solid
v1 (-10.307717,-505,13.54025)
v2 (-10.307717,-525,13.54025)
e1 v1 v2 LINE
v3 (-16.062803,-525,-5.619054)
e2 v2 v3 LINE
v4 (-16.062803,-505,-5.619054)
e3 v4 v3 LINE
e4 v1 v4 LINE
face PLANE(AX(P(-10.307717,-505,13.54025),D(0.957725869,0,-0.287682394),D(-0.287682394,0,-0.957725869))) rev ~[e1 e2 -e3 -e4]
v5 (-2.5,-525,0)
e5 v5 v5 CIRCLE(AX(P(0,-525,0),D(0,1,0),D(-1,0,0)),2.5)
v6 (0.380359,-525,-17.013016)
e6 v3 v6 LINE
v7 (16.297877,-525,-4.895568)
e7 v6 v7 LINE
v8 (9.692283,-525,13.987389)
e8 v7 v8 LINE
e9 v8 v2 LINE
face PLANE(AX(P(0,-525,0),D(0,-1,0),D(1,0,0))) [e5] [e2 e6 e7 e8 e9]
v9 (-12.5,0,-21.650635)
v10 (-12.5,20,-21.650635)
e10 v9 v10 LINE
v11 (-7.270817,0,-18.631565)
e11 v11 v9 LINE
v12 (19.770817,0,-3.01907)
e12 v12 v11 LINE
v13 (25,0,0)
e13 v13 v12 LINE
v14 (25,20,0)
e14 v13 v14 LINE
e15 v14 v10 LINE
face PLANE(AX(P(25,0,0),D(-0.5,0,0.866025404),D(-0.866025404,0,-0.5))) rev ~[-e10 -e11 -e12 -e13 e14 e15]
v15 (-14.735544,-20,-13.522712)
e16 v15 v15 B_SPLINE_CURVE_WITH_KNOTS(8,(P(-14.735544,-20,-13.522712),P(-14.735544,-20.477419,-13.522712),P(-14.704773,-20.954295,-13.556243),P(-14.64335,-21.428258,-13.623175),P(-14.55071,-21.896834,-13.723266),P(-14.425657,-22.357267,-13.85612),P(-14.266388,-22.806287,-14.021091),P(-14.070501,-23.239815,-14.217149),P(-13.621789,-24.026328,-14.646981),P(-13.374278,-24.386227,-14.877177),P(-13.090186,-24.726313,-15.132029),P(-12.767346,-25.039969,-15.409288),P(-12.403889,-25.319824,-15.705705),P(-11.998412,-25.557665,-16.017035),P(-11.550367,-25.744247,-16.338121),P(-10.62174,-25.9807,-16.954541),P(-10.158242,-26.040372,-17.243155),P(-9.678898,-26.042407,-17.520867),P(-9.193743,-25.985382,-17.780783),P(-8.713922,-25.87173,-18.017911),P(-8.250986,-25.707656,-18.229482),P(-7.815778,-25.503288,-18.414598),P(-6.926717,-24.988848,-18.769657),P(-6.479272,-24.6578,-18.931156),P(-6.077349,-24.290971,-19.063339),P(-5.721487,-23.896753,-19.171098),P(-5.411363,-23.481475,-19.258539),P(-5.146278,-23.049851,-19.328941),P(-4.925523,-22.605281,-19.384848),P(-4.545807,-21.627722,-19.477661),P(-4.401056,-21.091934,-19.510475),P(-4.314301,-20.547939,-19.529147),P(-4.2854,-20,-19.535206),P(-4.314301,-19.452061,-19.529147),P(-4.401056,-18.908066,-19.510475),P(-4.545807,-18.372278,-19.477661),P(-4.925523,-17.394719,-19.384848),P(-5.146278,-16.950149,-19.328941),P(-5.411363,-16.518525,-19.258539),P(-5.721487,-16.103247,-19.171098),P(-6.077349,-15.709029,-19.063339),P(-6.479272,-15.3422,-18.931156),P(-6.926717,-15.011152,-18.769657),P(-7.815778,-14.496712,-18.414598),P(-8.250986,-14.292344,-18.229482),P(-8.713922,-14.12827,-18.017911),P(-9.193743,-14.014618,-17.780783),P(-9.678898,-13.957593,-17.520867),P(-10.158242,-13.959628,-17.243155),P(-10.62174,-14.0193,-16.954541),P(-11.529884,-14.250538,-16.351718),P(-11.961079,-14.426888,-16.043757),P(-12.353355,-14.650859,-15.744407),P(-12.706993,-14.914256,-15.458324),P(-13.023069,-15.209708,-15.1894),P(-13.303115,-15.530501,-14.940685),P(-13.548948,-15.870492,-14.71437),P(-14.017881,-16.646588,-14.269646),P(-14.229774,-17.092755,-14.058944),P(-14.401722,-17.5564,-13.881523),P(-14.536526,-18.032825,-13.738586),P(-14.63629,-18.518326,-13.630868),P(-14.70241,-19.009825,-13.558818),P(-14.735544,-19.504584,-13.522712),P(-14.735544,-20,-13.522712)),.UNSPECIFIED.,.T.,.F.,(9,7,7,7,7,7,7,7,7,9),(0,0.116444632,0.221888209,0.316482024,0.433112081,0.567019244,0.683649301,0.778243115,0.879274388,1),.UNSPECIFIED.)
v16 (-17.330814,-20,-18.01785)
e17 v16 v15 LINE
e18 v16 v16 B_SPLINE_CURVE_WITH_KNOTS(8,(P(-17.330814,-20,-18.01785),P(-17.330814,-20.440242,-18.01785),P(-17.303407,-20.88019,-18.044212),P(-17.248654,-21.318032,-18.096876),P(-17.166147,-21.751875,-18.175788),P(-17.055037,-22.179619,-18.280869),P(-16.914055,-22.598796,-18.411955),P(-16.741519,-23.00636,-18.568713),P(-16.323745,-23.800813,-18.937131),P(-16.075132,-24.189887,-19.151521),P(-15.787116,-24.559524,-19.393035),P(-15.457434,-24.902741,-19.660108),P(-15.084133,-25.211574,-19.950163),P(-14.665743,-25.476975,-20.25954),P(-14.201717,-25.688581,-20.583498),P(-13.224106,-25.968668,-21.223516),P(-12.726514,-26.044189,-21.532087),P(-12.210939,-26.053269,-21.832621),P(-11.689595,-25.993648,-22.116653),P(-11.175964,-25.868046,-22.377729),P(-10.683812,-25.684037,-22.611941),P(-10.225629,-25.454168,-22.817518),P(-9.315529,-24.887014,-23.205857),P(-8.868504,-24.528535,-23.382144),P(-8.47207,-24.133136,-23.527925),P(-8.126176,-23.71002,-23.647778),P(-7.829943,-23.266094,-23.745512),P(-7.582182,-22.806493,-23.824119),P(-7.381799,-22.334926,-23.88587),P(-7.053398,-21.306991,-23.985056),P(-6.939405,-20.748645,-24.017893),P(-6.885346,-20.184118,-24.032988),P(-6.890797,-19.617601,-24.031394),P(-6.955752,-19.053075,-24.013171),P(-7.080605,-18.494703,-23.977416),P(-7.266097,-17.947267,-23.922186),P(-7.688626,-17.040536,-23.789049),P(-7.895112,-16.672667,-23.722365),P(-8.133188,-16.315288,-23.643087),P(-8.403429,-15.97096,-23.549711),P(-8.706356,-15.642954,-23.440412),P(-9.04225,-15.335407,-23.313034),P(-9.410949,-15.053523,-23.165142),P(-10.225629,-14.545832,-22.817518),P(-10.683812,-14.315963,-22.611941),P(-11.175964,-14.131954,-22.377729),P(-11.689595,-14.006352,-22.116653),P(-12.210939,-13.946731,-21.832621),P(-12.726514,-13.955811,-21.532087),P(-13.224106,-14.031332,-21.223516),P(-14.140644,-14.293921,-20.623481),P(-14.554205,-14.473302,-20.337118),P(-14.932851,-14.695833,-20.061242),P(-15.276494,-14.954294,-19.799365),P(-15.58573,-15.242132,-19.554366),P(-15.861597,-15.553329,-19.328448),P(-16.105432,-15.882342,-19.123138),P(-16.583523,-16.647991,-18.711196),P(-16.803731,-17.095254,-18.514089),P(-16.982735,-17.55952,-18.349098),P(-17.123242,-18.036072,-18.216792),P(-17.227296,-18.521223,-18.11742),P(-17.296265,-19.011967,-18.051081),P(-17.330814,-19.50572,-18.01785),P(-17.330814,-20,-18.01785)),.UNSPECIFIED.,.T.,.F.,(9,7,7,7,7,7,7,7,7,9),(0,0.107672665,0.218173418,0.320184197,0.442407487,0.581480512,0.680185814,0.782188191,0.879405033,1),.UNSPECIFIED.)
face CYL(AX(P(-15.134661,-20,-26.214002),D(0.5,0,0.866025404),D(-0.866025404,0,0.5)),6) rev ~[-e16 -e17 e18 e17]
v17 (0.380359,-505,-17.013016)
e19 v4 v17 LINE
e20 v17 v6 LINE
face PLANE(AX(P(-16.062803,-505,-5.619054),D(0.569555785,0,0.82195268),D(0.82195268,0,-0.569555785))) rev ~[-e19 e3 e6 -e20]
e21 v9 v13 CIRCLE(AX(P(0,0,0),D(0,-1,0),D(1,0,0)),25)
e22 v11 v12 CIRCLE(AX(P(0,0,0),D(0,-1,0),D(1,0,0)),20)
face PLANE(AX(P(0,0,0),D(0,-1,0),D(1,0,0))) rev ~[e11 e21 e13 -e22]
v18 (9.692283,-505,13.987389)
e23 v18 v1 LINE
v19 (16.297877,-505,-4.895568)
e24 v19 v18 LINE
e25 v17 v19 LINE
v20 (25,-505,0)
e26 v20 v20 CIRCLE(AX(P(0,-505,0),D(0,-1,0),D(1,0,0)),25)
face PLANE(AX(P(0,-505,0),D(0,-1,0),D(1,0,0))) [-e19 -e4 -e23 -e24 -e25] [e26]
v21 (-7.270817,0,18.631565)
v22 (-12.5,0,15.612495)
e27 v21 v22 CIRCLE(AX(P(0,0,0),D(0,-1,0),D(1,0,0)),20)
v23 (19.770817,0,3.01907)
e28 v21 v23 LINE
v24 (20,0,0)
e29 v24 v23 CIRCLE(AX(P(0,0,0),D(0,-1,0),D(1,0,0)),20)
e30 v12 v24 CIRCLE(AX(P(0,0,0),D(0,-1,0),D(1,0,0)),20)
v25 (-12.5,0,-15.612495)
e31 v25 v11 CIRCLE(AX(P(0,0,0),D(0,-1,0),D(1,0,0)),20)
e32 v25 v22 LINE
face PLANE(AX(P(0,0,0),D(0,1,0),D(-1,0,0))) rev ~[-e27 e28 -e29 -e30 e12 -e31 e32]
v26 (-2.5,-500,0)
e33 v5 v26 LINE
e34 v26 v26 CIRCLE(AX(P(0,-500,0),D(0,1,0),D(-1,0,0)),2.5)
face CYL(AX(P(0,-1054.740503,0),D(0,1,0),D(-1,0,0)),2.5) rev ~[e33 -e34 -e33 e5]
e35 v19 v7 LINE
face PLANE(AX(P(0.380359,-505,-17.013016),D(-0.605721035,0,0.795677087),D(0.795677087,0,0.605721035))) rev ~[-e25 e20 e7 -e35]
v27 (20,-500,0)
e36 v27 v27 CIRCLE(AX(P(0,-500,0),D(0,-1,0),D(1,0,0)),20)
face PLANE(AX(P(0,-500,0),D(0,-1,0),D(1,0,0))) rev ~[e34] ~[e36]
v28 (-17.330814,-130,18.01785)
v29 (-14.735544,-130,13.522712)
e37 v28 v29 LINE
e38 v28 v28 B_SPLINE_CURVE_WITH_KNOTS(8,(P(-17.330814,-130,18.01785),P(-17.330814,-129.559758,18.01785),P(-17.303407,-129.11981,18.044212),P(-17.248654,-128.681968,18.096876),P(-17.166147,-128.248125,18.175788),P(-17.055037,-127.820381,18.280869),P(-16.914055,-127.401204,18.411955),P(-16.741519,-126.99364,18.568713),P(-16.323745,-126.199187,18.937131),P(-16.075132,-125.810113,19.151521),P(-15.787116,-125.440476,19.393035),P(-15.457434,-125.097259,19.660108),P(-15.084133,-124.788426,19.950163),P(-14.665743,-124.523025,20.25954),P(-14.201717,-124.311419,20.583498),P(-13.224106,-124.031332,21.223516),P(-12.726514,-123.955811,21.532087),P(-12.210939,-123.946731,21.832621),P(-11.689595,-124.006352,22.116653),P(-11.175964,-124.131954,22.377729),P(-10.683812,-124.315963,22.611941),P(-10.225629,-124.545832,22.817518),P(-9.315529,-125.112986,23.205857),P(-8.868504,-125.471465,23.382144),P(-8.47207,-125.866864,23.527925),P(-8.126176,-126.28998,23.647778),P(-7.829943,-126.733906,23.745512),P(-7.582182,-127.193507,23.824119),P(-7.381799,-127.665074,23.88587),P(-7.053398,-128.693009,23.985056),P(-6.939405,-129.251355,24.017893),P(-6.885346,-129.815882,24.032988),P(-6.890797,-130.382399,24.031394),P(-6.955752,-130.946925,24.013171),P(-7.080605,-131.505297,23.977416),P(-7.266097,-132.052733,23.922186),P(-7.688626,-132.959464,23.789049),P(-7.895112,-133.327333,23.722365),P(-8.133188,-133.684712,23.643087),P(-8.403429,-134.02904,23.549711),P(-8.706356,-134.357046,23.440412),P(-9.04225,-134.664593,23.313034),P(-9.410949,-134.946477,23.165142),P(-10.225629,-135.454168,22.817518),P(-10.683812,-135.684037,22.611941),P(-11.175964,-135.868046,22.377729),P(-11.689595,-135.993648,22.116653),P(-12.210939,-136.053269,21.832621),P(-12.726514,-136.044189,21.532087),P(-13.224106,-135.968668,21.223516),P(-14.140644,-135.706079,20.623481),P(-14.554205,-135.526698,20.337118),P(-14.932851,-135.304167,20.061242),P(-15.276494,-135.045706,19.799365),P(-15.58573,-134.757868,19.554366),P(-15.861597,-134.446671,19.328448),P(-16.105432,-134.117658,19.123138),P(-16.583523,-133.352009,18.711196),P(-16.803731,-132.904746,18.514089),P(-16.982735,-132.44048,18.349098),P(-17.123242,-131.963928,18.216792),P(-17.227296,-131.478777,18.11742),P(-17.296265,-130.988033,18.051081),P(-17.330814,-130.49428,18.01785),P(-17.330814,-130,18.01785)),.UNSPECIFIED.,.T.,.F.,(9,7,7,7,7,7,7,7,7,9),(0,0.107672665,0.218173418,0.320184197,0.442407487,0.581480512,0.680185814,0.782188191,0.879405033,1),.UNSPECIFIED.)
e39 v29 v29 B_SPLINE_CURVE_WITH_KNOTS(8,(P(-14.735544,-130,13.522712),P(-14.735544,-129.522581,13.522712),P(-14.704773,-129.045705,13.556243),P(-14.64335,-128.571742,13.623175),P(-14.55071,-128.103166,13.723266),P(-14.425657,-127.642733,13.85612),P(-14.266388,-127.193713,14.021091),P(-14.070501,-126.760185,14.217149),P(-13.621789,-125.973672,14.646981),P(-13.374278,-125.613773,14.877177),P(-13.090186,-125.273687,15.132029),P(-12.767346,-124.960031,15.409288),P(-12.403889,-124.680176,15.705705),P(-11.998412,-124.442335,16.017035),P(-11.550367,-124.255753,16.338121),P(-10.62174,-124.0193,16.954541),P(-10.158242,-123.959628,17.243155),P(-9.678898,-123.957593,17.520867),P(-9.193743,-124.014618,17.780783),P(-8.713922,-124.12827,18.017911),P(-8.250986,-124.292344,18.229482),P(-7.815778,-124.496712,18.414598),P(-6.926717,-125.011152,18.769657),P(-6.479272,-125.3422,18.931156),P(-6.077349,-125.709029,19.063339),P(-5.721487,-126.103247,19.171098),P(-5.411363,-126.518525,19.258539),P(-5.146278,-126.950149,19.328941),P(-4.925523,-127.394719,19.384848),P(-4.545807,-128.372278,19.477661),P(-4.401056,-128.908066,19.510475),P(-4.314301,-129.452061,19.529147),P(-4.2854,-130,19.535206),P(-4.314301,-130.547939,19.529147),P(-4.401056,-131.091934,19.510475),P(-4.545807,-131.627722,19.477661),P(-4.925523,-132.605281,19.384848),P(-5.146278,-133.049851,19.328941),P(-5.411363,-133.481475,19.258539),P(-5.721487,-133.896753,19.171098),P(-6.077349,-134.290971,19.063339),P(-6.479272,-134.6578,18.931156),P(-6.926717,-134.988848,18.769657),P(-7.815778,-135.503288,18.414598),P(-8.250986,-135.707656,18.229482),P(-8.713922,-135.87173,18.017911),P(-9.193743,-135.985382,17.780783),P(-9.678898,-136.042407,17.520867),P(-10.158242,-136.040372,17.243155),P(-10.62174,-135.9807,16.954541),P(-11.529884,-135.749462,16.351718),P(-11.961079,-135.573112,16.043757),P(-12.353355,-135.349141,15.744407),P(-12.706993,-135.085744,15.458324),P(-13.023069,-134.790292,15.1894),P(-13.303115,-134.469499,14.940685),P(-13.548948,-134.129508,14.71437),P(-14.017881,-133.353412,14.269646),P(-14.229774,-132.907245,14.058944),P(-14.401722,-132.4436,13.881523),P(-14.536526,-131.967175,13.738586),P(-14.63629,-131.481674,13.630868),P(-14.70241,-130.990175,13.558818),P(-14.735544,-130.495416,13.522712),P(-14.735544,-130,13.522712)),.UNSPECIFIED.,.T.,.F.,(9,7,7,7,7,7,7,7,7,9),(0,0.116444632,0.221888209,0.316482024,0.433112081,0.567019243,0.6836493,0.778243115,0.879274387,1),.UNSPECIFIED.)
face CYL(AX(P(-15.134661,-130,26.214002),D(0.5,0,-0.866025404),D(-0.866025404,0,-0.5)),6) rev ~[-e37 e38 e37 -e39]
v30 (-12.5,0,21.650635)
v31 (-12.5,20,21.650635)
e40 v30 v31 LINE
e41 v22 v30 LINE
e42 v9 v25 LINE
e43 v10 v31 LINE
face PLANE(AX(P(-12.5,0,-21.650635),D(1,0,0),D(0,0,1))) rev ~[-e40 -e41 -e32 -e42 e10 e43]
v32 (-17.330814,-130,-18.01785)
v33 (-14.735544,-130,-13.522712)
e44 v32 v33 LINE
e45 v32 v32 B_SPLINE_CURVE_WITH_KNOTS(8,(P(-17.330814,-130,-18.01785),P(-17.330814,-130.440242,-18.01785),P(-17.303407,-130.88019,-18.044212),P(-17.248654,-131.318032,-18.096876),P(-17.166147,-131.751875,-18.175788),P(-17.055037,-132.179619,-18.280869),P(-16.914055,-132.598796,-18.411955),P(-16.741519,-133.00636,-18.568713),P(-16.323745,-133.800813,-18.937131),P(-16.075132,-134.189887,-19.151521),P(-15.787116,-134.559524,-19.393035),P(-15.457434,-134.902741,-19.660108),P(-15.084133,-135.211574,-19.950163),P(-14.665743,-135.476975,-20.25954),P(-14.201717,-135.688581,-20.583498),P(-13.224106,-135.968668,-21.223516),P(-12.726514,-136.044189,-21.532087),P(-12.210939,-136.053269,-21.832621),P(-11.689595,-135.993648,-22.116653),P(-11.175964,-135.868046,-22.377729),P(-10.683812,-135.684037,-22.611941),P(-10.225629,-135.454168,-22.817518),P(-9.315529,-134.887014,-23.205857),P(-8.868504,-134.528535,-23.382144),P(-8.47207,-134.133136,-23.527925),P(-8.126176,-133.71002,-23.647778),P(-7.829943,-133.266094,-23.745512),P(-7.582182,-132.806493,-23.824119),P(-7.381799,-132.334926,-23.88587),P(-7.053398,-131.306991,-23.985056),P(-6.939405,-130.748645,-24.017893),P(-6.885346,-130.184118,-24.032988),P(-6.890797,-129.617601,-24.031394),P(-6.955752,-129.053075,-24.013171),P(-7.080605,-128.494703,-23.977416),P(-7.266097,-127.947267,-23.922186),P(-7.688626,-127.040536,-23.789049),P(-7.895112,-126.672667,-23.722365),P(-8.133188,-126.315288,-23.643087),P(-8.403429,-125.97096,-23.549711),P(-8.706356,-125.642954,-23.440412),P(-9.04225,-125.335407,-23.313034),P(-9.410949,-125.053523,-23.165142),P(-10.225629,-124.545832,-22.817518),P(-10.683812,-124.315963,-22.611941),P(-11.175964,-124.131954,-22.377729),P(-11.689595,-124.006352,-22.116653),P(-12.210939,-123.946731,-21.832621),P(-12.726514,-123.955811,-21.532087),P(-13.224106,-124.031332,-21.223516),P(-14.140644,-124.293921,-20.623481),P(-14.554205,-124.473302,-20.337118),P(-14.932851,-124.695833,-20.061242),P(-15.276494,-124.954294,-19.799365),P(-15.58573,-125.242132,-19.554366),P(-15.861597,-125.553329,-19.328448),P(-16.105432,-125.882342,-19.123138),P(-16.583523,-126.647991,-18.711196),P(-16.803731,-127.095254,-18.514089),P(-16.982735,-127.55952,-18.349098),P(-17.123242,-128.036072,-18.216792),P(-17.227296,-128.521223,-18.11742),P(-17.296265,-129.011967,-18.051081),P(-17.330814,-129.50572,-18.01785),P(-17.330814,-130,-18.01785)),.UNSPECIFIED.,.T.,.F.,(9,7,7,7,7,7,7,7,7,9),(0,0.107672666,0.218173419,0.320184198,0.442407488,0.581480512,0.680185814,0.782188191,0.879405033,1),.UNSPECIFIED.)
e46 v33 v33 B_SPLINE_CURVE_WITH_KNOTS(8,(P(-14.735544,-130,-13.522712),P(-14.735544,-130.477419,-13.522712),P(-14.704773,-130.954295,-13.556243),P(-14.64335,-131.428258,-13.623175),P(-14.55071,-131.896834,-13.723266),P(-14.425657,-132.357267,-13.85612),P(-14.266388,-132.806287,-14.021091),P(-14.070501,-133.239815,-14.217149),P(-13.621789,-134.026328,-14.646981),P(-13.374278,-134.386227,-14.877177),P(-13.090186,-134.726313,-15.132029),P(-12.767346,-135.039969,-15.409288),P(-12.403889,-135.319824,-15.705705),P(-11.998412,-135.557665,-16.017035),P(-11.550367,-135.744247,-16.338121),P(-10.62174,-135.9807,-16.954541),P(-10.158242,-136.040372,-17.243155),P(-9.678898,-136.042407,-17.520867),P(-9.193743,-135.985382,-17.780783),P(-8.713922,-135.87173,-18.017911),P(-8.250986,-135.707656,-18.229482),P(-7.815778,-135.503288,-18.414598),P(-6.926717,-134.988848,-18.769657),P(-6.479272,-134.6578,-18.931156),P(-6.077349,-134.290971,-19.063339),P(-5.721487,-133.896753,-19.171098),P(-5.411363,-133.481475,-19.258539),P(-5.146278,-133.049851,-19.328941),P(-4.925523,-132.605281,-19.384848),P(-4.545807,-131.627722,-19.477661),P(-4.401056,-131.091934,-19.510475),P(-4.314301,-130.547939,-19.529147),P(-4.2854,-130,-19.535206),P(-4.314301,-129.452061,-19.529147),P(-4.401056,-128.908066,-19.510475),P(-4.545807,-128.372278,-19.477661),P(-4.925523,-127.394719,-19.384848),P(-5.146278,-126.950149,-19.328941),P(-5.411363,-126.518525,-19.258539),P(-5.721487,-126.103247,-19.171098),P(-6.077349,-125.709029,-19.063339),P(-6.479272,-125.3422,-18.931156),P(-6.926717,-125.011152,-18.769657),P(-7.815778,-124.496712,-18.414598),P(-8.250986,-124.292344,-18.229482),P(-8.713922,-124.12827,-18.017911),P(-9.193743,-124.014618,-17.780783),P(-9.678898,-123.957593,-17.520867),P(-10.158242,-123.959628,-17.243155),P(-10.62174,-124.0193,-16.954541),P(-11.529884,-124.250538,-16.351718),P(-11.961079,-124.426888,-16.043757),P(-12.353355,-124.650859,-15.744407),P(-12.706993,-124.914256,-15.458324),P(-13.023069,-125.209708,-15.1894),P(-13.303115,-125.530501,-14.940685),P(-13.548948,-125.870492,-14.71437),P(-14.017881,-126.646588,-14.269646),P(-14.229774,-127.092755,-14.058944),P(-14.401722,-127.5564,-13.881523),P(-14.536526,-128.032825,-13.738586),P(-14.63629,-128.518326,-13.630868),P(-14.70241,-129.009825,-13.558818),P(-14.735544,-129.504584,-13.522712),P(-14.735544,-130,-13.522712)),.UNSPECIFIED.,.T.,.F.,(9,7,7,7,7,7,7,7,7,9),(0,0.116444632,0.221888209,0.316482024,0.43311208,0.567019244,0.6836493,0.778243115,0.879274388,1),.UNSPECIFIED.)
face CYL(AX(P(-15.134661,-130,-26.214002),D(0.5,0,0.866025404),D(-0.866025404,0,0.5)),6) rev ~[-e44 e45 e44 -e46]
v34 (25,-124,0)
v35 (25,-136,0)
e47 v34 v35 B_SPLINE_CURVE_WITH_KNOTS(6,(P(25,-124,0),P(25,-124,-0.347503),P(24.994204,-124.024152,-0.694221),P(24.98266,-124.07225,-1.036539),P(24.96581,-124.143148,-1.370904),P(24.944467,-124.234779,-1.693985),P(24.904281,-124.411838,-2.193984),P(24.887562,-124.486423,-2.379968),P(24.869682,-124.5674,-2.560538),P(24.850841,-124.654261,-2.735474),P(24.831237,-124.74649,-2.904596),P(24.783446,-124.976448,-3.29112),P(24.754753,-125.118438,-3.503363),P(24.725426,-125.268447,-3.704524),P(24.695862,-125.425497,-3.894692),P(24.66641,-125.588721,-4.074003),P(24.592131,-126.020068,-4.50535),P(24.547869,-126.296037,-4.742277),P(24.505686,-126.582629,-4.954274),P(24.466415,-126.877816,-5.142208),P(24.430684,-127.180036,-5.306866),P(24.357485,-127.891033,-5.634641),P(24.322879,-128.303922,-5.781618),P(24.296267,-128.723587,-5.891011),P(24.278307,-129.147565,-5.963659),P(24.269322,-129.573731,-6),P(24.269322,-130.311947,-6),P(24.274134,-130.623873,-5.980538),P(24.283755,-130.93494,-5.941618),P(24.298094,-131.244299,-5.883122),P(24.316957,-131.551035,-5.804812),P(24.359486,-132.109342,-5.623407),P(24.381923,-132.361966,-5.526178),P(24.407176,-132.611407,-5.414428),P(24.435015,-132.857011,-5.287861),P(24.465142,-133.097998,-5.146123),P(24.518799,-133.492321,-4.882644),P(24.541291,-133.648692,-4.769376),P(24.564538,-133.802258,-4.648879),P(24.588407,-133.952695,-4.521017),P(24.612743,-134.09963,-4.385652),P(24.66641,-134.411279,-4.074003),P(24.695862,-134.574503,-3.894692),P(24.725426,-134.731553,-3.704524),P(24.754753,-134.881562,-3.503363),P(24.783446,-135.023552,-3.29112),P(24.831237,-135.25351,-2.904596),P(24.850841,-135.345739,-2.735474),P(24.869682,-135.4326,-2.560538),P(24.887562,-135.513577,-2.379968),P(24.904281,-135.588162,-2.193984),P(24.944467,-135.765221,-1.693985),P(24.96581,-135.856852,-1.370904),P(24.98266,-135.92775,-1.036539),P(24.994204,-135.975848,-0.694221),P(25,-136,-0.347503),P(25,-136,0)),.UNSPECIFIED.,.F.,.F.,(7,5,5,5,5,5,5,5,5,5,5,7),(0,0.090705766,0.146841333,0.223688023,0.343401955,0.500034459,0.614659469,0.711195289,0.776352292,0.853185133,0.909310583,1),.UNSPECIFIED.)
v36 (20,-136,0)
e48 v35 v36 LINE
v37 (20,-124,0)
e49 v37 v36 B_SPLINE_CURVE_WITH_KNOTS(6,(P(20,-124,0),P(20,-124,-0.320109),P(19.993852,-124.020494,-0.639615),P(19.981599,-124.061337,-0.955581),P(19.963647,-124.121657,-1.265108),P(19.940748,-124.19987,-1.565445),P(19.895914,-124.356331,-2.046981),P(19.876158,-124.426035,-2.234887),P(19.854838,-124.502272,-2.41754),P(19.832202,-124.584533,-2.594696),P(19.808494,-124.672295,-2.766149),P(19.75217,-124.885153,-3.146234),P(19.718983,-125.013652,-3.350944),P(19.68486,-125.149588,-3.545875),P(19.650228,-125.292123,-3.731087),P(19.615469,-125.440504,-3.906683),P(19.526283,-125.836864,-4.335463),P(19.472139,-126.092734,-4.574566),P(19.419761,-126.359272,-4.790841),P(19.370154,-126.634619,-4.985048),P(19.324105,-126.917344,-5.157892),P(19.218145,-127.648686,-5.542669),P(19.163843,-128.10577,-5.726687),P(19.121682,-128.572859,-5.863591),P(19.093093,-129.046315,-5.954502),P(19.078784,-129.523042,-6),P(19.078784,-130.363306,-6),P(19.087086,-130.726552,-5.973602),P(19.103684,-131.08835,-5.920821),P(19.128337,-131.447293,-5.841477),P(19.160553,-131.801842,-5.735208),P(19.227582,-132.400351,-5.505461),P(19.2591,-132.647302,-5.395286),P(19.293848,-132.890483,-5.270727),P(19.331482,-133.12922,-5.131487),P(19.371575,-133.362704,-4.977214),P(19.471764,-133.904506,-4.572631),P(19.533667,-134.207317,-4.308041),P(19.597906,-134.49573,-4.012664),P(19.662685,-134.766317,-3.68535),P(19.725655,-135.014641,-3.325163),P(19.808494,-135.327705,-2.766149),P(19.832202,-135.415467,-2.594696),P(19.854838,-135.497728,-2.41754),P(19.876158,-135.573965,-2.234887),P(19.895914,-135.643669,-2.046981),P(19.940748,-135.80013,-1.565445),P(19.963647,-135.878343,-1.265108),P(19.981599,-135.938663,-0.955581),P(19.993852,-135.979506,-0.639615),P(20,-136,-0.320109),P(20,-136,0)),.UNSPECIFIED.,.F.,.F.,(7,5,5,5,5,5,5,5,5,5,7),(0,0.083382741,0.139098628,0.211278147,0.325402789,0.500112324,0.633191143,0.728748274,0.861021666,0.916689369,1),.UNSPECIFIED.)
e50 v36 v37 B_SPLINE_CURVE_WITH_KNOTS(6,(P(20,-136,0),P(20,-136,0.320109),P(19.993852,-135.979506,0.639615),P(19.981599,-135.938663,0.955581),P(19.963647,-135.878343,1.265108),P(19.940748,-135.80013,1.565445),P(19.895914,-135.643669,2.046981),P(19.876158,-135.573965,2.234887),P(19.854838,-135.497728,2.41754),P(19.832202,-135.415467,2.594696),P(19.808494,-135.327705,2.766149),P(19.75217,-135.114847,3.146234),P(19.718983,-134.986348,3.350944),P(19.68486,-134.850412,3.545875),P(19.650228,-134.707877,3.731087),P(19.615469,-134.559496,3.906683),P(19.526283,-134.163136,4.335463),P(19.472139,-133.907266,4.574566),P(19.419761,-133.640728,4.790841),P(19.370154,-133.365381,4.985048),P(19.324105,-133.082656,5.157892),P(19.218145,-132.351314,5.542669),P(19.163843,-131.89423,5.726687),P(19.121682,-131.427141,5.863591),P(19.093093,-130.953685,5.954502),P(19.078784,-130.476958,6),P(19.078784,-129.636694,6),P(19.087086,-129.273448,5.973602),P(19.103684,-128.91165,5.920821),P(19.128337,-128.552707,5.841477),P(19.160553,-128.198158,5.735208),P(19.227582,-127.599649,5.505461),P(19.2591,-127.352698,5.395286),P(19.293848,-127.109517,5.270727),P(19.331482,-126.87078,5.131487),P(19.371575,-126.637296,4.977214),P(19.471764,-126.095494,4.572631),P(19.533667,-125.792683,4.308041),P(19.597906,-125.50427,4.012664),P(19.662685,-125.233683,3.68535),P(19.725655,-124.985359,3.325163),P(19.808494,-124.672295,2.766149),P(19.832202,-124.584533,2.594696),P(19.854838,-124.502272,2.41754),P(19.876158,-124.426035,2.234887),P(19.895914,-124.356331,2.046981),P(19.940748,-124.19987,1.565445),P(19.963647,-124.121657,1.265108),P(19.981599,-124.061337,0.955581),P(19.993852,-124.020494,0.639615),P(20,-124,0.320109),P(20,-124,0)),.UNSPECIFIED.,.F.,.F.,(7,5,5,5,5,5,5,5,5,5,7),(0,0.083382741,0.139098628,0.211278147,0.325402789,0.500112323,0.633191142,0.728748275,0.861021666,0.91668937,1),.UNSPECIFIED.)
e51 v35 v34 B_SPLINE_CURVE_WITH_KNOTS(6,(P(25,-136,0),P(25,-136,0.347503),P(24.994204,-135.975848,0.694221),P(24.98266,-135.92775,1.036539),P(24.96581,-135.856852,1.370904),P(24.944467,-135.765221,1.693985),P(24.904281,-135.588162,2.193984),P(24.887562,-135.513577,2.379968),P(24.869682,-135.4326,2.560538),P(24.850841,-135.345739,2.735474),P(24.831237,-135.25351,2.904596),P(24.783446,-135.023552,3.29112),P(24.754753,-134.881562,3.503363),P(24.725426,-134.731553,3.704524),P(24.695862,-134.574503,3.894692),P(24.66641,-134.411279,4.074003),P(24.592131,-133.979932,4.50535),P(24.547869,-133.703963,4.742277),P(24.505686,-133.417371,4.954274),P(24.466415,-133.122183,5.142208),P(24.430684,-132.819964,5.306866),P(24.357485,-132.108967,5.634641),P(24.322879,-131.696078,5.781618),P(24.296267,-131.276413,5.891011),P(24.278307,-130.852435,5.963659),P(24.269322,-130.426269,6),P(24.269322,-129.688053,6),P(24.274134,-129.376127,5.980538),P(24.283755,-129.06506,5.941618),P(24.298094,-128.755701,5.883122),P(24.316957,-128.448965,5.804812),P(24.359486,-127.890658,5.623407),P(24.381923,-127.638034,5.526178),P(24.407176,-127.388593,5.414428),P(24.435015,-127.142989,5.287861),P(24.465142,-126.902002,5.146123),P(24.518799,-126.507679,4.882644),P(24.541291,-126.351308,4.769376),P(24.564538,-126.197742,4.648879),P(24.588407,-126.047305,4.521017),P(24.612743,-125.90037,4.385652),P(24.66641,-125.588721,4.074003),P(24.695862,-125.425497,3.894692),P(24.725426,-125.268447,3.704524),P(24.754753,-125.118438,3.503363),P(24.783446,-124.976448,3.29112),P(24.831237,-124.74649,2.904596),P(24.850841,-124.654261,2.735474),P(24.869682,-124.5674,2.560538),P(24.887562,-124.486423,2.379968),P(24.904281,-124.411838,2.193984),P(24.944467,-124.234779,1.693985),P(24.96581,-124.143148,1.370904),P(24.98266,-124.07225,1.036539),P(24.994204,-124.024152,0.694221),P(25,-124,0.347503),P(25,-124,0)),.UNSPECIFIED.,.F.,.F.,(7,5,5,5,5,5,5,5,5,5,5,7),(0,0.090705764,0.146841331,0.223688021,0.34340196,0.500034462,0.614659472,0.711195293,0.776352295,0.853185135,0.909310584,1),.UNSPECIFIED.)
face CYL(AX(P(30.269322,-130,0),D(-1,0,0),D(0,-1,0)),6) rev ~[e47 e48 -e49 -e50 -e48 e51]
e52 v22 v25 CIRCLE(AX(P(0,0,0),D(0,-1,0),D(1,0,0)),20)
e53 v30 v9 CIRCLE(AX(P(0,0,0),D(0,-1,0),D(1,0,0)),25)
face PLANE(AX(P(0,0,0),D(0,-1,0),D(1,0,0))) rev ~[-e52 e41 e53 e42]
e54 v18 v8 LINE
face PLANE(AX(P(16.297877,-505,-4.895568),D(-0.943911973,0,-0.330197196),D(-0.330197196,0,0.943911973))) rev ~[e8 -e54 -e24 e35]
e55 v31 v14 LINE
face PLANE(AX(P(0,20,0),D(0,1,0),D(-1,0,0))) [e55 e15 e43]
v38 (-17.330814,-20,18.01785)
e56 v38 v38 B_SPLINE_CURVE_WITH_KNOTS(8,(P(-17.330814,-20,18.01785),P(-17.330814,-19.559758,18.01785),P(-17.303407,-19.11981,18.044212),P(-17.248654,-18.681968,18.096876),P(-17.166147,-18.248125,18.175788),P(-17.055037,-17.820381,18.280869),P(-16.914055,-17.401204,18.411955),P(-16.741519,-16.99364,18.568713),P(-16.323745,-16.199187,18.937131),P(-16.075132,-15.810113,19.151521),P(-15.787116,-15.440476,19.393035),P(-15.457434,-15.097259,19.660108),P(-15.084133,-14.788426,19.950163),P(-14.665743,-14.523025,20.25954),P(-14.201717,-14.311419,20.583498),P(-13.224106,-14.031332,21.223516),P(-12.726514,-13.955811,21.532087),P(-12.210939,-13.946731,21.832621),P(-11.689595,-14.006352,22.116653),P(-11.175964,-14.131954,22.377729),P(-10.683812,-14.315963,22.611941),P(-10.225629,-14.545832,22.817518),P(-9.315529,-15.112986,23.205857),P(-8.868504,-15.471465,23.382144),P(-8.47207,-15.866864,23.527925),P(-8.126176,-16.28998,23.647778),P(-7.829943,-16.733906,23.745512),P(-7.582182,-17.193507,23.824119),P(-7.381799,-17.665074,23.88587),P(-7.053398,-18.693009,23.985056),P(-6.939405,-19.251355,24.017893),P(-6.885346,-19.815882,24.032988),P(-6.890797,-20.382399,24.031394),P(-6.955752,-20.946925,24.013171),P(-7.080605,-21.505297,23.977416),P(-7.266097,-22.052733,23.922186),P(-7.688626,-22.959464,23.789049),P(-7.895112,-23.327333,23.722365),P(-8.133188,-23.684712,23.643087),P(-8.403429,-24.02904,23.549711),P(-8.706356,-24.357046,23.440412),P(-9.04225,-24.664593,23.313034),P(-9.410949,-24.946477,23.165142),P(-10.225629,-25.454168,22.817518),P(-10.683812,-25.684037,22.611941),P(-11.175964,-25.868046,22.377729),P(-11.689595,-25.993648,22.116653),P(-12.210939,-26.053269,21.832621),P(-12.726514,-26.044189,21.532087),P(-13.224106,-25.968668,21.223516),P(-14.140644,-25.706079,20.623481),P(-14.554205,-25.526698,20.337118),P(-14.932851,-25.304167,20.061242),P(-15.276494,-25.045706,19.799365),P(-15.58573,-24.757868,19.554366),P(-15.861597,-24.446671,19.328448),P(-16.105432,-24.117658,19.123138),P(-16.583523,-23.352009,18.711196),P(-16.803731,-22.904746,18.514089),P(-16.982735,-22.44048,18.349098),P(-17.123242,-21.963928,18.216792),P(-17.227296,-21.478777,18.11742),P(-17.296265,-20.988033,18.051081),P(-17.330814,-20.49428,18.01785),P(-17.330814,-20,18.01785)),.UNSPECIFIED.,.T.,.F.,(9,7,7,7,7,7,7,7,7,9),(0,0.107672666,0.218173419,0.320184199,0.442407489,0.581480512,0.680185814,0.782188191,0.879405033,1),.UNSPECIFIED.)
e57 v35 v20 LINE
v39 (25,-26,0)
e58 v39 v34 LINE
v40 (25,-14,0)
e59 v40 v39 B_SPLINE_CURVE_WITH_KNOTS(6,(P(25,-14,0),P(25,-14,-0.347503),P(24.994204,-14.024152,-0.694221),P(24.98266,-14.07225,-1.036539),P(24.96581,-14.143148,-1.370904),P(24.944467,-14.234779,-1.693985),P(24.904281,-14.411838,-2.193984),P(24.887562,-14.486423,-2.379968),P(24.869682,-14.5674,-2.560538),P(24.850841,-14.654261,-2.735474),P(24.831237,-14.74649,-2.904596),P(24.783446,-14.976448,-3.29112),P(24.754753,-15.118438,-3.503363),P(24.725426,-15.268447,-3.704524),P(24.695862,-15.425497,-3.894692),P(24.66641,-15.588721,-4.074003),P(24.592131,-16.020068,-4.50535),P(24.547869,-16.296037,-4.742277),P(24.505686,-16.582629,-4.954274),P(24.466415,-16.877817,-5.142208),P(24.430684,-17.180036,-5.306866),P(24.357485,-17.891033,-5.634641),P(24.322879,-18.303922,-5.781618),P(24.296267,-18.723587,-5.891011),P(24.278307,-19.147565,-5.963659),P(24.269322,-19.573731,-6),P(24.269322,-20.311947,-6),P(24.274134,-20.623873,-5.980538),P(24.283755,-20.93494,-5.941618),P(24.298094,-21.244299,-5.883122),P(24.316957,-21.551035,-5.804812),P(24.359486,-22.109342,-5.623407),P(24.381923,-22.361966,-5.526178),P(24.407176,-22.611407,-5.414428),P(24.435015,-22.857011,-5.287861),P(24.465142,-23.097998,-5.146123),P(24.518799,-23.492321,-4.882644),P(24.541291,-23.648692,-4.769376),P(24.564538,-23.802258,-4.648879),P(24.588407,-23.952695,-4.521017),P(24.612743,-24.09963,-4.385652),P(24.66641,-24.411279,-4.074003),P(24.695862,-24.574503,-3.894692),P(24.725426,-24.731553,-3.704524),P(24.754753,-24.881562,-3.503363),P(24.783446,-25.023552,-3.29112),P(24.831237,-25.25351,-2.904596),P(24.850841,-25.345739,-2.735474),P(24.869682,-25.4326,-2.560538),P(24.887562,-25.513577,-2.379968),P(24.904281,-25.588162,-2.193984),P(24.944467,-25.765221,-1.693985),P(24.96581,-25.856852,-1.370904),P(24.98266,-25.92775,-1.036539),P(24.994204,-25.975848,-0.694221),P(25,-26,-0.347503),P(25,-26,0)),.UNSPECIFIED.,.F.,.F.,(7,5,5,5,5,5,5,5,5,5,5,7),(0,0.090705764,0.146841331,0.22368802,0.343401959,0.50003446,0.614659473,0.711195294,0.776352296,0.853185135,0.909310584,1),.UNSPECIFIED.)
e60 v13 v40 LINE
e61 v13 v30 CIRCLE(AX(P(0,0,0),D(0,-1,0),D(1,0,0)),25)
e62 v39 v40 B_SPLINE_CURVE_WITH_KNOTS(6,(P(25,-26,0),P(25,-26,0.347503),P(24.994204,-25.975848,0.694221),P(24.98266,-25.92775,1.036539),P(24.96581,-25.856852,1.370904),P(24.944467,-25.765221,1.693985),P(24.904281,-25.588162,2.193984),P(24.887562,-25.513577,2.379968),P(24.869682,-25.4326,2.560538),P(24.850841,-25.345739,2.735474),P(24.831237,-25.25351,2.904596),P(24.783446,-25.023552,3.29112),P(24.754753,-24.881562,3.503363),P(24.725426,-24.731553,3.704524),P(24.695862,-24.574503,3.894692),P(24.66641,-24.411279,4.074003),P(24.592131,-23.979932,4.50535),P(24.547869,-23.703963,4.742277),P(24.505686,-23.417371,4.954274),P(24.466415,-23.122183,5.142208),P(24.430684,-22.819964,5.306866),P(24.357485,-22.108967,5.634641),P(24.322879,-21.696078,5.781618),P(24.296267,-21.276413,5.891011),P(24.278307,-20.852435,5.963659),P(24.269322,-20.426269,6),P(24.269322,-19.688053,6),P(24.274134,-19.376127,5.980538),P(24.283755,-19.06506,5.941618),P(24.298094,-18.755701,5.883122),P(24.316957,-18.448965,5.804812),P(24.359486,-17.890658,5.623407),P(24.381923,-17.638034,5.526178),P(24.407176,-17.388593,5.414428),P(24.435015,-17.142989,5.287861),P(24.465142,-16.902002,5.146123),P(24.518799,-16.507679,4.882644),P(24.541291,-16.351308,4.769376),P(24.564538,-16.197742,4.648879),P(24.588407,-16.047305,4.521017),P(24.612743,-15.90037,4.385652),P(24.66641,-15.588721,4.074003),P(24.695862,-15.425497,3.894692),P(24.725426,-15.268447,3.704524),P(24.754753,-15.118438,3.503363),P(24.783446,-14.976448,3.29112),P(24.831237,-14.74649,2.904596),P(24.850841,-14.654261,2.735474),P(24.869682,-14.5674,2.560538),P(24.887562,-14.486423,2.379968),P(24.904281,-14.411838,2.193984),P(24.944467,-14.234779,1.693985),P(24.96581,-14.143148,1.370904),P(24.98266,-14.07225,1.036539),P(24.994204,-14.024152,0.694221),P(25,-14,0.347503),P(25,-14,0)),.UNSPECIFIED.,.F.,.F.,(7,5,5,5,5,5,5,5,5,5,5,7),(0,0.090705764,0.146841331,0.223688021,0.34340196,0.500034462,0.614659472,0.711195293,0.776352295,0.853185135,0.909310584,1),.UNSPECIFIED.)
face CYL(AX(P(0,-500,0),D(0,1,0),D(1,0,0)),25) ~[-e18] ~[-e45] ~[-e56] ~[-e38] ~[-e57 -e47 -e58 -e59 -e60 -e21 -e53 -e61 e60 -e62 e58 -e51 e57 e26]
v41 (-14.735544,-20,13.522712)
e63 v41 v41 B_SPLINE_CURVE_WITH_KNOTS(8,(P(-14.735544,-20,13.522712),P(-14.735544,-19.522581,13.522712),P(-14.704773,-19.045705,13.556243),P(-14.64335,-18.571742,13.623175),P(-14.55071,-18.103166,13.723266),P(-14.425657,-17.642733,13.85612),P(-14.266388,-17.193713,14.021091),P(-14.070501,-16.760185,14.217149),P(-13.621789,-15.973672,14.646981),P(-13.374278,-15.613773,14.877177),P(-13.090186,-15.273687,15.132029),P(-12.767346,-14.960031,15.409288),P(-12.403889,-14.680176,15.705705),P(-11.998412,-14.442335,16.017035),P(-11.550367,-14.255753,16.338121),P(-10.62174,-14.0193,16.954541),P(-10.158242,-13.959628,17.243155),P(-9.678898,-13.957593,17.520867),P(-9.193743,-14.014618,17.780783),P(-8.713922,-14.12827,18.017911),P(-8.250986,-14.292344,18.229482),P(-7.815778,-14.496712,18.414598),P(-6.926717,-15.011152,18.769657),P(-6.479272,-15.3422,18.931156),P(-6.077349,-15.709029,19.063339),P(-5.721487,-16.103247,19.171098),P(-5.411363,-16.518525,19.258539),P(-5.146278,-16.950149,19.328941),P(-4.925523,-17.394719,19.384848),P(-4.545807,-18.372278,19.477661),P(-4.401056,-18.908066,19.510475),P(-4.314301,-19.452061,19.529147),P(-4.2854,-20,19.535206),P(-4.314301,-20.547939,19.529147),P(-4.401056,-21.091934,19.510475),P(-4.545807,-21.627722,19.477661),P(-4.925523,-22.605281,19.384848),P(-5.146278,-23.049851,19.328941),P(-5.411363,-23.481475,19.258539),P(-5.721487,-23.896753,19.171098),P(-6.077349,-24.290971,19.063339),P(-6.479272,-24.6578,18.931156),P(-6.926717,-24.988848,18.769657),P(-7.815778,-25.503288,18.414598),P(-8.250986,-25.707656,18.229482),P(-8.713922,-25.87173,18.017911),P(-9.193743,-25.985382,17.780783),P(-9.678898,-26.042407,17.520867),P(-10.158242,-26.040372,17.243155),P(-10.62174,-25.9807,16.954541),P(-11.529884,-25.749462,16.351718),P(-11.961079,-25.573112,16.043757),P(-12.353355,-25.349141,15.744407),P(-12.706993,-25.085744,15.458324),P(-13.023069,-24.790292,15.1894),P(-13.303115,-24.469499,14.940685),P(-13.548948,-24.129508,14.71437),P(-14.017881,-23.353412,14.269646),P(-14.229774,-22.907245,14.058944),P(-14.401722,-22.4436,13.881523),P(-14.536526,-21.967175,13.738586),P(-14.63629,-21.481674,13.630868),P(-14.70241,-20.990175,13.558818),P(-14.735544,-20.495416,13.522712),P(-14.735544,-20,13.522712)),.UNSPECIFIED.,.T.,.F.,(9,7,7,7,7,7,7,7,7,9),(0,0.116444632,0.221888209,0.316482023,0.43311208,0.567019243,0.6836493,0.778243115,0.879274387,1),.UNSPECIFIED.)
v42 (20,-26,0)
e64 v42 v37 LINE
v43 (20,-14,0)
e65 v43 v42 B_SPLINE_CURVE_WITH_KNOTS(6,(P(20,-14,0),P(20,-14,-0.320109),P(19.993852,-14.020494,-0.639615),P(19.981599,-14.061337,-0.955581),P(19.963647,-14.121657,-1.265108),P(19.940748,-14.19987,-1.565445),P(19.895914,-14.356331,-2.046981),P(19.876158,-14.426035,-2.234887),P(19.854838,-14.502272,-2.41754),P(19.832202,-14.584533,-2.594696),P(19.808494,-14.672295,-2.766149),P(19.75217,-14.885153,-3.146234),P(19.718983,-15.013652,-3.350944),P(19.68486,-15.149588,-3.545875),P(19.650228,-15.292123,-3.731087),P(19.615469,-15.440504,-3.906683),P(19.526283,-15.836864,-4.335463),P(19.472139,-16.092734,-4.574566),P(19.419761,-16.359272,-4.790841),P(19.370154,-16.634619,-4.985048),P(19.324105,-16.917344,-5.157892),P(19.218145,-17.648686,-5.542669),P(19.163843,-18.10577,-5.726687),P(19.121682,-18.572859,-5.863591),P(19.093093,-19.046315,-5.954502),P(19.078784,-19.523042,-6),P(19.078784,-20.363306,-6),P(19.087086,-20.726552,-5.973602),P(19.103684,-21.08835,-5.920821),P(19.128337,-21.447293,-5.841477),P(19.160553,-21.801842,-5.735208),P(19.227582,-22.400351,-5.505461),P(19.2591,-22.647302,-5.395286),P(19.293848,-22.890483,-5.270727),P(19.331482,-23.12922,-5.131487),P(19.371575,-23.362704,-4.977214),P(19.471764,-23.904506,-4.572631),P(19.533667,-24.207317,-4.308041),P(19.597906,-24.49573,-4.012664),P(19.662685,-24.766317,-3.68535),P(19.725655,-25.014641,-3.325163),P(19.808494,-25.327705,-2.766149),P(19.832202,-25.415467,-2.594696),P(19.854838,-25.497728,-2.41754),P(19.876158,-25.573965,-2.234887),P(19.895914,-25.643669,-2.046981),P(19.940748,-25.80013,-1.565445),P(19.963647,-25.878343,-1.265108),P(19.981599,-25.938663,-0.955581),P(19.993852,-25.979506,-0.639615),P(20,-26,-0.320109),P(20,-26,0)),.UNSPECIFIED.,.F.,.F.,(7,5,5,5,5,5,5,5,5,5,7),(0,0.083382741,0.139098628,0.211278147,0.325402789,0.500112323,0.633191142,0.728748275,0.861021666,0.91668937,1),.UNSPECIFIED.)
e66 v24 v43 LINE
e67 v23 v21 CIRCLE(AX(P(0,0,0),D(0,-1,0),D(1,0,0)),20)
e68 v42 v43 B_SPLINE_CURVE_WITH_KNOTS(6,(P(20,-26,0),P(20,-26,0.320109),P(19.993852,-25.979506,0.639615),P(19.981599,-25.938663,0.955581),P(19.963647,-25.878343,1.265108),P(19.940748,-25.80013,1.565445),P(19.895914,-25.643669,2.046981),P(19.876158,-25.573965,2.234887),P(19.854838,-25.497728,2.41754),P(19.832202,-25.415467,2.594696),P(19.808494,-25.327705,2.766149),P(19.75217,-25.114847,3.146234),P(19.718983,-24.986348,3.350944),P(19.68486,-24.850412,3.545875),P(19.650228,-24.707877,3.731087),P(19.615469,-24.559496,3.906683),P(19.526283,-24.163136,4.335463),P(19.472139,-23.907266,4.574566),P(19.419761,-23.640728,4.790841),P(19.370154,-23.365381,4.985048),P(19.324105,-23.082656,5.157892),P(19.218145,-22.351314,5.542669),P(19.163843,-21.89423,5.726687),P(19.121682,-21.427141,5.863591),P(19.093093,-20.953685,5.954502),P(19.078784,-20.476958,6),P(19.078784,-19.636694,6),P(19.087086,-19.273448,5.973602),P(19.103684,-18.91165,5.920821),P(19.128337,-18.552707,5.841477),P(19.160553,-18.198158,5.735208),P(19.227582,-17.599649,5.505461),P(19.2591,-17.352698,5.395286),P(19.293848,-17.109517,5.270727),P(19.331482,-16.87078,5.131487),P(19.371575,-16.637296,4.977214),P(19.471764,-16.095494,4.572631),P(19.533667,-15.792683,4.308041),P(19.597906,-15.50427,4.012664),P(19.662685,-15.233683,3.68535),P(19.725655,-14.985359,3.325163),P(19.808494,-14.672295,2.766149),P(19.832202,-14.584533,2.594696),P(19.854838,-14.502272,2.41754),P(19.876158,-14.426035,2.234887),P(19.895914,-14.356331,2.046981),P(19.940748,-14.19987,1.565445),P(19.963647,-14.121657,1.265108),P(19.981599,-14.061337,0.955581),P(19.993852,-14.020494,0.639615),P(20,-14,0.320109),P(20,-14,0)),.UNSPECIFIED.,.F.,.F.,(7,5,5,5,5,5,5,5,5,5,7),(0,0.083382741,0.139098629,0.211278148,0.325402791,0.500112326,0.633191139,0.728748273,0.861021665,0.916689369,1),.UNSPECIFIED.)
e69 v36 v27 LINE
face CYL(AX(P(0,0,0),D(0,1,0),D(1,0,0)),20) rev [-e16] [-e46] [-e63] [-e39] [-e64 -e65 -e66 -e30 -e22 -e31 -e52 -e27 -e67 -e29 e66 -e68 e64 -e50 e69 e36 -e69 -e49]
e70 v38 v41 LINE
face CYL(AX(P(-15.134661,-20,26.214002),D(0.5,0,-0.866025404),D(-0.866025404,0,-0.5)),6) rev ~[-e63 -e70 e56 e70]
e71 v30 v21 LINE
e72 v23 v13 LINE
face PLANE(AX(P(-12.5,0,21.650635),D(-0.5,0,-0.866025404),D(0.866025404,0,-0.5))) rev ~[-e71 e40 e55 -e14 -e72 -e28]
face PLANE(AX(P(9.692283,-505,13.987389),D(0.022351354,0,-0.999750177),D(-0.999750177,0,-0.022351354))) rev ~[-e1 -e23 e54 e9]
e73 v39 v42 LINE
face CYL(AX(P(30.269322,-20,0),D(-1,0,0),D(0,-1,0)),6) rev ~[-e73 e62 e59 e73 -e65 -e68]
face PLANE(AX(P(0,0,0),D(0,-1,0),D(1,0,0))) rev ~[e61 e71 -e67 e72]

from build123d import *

# Parameters (mm, degrees)
F0_R      = 25
F0_R_2    = 20
F1_DEPTH  = 500
F2_R      = 25
F3_DEPTH  = 5
F5_DEPTH  = 20
F7_D      = 5
F10_D     = 12
F10_DEPTH = 6
F10_START = 0.7306779
F10_TIP   = 3.6051637142
F12_DEPTH = 20
F17_D     = 12
F17_DEPTH = 6
F17_START = 0.7306779
F17_TIP   = 3.6051637142
F19_D     = 12
F19_DEPTH = 6
F19_START = 0.7306779
F19_TIP   = 3.6051637142


with BuildPart() as f1:
    # F0 (on Front) → F1 (new body)
    with BuildSketch(Plane.XZ):
        Circle(F0_R)
        Circle(F0_R_2, mode=Mode.SUBTRACT)
    extrude(amount=F1_DEPTH)

    # F2 (on face) → F3 (join)
    with BuildSketch(Plane.XZ.offset(500)):
        Circle(F2_R)
    extrude(amount=F3_DEPTH)

    # F4 (on face) → F5 (join)
    with BuildSketch(Plane.XZ.offset(505)):
        Polygon((-16.0628025015, -5.6190539991), (0.380358971, -17.013016167), (16.2978772735, -4.8955682433), (9.6922831285, 13.9873885984), (-10.3077168715, 13.540249811), align=None)
    extrude(amount=F5_DEPTH)

    # F7 (through all)
    with Locations(Plane.XZ.offset(525)):
        with Locations((0, 0)):
            Hole(F7_D / 2)

    # F10
    # its depths count from where the whole tool has entered the part; down to there all is cleared
    with Locations(Plane.YZ.offset(25).offset(-F10_START)):
        with Locations((-20, 0), (-130, 0)):
            Hole(F10_D / 2, depth=F10_DEPTH)
            with Locations((0, 0, -(F10_DEPTH + F10_TIP / 2))):  # 118° drill point
                Cone(0, F10_D / 2, F10_TIP, mode=Mode.SUBTRACT)

    # F11 (on face) → F12 (join)
    with BuildSketch(Plane(origin=(0, 0, 0), x_dir=(-1, 0, 0), z_dir=(0, 1, 0))):
        Polygon((12.5, -21.6506350946), (12.5, 21.6506350946), (-25, 0), align=None)
    extrude(amount=F12_DEPTH)

    # F17
    # its depths count from where the whole tool has entered the part; down to there all is cleared
    with Locations(Plane(origin=(-12.5, 0, -21.6506350946), x_dir=(0.8660254038, 0, -0.5), z_dir=(-0.5, 0, -0.8660254038)).offset(-F17_START)):
        with Locations((0, 20), (0, 130)):
            Hole(F17_D / 2, depth=F17_DEPTH)
            with Locations((0, 0, -(F17_DEPTH + F17_TIP / 2))):  # 118° drill point
                Cone(0, F17_D / 2, F17_TIP, mode=Mode.SUBTRACT)

    # F19
    # its depths count from where the whole tool has entered the part; down to there all is cleared
    with Locations(Plane(origin=(-12.5, 0, 21.6506350946), x_dir=(0.8660254038, 0, 0.5), z_dir=(-0.5, 0, 0.8660254038)).offset(-F19_START)):
        with Locations((0, -20), (0, -130)):
            Hole(F19_D / 2, depth=F19_DEPTH)
            with Locations((0, 0, -(F19_DEPTH + F19_TIP / 2))):  # 118° drill point
                Cone(0, F19_D / 2, F19_TIP, mode=Mode.SUBTRACT)


solid = f1.part
